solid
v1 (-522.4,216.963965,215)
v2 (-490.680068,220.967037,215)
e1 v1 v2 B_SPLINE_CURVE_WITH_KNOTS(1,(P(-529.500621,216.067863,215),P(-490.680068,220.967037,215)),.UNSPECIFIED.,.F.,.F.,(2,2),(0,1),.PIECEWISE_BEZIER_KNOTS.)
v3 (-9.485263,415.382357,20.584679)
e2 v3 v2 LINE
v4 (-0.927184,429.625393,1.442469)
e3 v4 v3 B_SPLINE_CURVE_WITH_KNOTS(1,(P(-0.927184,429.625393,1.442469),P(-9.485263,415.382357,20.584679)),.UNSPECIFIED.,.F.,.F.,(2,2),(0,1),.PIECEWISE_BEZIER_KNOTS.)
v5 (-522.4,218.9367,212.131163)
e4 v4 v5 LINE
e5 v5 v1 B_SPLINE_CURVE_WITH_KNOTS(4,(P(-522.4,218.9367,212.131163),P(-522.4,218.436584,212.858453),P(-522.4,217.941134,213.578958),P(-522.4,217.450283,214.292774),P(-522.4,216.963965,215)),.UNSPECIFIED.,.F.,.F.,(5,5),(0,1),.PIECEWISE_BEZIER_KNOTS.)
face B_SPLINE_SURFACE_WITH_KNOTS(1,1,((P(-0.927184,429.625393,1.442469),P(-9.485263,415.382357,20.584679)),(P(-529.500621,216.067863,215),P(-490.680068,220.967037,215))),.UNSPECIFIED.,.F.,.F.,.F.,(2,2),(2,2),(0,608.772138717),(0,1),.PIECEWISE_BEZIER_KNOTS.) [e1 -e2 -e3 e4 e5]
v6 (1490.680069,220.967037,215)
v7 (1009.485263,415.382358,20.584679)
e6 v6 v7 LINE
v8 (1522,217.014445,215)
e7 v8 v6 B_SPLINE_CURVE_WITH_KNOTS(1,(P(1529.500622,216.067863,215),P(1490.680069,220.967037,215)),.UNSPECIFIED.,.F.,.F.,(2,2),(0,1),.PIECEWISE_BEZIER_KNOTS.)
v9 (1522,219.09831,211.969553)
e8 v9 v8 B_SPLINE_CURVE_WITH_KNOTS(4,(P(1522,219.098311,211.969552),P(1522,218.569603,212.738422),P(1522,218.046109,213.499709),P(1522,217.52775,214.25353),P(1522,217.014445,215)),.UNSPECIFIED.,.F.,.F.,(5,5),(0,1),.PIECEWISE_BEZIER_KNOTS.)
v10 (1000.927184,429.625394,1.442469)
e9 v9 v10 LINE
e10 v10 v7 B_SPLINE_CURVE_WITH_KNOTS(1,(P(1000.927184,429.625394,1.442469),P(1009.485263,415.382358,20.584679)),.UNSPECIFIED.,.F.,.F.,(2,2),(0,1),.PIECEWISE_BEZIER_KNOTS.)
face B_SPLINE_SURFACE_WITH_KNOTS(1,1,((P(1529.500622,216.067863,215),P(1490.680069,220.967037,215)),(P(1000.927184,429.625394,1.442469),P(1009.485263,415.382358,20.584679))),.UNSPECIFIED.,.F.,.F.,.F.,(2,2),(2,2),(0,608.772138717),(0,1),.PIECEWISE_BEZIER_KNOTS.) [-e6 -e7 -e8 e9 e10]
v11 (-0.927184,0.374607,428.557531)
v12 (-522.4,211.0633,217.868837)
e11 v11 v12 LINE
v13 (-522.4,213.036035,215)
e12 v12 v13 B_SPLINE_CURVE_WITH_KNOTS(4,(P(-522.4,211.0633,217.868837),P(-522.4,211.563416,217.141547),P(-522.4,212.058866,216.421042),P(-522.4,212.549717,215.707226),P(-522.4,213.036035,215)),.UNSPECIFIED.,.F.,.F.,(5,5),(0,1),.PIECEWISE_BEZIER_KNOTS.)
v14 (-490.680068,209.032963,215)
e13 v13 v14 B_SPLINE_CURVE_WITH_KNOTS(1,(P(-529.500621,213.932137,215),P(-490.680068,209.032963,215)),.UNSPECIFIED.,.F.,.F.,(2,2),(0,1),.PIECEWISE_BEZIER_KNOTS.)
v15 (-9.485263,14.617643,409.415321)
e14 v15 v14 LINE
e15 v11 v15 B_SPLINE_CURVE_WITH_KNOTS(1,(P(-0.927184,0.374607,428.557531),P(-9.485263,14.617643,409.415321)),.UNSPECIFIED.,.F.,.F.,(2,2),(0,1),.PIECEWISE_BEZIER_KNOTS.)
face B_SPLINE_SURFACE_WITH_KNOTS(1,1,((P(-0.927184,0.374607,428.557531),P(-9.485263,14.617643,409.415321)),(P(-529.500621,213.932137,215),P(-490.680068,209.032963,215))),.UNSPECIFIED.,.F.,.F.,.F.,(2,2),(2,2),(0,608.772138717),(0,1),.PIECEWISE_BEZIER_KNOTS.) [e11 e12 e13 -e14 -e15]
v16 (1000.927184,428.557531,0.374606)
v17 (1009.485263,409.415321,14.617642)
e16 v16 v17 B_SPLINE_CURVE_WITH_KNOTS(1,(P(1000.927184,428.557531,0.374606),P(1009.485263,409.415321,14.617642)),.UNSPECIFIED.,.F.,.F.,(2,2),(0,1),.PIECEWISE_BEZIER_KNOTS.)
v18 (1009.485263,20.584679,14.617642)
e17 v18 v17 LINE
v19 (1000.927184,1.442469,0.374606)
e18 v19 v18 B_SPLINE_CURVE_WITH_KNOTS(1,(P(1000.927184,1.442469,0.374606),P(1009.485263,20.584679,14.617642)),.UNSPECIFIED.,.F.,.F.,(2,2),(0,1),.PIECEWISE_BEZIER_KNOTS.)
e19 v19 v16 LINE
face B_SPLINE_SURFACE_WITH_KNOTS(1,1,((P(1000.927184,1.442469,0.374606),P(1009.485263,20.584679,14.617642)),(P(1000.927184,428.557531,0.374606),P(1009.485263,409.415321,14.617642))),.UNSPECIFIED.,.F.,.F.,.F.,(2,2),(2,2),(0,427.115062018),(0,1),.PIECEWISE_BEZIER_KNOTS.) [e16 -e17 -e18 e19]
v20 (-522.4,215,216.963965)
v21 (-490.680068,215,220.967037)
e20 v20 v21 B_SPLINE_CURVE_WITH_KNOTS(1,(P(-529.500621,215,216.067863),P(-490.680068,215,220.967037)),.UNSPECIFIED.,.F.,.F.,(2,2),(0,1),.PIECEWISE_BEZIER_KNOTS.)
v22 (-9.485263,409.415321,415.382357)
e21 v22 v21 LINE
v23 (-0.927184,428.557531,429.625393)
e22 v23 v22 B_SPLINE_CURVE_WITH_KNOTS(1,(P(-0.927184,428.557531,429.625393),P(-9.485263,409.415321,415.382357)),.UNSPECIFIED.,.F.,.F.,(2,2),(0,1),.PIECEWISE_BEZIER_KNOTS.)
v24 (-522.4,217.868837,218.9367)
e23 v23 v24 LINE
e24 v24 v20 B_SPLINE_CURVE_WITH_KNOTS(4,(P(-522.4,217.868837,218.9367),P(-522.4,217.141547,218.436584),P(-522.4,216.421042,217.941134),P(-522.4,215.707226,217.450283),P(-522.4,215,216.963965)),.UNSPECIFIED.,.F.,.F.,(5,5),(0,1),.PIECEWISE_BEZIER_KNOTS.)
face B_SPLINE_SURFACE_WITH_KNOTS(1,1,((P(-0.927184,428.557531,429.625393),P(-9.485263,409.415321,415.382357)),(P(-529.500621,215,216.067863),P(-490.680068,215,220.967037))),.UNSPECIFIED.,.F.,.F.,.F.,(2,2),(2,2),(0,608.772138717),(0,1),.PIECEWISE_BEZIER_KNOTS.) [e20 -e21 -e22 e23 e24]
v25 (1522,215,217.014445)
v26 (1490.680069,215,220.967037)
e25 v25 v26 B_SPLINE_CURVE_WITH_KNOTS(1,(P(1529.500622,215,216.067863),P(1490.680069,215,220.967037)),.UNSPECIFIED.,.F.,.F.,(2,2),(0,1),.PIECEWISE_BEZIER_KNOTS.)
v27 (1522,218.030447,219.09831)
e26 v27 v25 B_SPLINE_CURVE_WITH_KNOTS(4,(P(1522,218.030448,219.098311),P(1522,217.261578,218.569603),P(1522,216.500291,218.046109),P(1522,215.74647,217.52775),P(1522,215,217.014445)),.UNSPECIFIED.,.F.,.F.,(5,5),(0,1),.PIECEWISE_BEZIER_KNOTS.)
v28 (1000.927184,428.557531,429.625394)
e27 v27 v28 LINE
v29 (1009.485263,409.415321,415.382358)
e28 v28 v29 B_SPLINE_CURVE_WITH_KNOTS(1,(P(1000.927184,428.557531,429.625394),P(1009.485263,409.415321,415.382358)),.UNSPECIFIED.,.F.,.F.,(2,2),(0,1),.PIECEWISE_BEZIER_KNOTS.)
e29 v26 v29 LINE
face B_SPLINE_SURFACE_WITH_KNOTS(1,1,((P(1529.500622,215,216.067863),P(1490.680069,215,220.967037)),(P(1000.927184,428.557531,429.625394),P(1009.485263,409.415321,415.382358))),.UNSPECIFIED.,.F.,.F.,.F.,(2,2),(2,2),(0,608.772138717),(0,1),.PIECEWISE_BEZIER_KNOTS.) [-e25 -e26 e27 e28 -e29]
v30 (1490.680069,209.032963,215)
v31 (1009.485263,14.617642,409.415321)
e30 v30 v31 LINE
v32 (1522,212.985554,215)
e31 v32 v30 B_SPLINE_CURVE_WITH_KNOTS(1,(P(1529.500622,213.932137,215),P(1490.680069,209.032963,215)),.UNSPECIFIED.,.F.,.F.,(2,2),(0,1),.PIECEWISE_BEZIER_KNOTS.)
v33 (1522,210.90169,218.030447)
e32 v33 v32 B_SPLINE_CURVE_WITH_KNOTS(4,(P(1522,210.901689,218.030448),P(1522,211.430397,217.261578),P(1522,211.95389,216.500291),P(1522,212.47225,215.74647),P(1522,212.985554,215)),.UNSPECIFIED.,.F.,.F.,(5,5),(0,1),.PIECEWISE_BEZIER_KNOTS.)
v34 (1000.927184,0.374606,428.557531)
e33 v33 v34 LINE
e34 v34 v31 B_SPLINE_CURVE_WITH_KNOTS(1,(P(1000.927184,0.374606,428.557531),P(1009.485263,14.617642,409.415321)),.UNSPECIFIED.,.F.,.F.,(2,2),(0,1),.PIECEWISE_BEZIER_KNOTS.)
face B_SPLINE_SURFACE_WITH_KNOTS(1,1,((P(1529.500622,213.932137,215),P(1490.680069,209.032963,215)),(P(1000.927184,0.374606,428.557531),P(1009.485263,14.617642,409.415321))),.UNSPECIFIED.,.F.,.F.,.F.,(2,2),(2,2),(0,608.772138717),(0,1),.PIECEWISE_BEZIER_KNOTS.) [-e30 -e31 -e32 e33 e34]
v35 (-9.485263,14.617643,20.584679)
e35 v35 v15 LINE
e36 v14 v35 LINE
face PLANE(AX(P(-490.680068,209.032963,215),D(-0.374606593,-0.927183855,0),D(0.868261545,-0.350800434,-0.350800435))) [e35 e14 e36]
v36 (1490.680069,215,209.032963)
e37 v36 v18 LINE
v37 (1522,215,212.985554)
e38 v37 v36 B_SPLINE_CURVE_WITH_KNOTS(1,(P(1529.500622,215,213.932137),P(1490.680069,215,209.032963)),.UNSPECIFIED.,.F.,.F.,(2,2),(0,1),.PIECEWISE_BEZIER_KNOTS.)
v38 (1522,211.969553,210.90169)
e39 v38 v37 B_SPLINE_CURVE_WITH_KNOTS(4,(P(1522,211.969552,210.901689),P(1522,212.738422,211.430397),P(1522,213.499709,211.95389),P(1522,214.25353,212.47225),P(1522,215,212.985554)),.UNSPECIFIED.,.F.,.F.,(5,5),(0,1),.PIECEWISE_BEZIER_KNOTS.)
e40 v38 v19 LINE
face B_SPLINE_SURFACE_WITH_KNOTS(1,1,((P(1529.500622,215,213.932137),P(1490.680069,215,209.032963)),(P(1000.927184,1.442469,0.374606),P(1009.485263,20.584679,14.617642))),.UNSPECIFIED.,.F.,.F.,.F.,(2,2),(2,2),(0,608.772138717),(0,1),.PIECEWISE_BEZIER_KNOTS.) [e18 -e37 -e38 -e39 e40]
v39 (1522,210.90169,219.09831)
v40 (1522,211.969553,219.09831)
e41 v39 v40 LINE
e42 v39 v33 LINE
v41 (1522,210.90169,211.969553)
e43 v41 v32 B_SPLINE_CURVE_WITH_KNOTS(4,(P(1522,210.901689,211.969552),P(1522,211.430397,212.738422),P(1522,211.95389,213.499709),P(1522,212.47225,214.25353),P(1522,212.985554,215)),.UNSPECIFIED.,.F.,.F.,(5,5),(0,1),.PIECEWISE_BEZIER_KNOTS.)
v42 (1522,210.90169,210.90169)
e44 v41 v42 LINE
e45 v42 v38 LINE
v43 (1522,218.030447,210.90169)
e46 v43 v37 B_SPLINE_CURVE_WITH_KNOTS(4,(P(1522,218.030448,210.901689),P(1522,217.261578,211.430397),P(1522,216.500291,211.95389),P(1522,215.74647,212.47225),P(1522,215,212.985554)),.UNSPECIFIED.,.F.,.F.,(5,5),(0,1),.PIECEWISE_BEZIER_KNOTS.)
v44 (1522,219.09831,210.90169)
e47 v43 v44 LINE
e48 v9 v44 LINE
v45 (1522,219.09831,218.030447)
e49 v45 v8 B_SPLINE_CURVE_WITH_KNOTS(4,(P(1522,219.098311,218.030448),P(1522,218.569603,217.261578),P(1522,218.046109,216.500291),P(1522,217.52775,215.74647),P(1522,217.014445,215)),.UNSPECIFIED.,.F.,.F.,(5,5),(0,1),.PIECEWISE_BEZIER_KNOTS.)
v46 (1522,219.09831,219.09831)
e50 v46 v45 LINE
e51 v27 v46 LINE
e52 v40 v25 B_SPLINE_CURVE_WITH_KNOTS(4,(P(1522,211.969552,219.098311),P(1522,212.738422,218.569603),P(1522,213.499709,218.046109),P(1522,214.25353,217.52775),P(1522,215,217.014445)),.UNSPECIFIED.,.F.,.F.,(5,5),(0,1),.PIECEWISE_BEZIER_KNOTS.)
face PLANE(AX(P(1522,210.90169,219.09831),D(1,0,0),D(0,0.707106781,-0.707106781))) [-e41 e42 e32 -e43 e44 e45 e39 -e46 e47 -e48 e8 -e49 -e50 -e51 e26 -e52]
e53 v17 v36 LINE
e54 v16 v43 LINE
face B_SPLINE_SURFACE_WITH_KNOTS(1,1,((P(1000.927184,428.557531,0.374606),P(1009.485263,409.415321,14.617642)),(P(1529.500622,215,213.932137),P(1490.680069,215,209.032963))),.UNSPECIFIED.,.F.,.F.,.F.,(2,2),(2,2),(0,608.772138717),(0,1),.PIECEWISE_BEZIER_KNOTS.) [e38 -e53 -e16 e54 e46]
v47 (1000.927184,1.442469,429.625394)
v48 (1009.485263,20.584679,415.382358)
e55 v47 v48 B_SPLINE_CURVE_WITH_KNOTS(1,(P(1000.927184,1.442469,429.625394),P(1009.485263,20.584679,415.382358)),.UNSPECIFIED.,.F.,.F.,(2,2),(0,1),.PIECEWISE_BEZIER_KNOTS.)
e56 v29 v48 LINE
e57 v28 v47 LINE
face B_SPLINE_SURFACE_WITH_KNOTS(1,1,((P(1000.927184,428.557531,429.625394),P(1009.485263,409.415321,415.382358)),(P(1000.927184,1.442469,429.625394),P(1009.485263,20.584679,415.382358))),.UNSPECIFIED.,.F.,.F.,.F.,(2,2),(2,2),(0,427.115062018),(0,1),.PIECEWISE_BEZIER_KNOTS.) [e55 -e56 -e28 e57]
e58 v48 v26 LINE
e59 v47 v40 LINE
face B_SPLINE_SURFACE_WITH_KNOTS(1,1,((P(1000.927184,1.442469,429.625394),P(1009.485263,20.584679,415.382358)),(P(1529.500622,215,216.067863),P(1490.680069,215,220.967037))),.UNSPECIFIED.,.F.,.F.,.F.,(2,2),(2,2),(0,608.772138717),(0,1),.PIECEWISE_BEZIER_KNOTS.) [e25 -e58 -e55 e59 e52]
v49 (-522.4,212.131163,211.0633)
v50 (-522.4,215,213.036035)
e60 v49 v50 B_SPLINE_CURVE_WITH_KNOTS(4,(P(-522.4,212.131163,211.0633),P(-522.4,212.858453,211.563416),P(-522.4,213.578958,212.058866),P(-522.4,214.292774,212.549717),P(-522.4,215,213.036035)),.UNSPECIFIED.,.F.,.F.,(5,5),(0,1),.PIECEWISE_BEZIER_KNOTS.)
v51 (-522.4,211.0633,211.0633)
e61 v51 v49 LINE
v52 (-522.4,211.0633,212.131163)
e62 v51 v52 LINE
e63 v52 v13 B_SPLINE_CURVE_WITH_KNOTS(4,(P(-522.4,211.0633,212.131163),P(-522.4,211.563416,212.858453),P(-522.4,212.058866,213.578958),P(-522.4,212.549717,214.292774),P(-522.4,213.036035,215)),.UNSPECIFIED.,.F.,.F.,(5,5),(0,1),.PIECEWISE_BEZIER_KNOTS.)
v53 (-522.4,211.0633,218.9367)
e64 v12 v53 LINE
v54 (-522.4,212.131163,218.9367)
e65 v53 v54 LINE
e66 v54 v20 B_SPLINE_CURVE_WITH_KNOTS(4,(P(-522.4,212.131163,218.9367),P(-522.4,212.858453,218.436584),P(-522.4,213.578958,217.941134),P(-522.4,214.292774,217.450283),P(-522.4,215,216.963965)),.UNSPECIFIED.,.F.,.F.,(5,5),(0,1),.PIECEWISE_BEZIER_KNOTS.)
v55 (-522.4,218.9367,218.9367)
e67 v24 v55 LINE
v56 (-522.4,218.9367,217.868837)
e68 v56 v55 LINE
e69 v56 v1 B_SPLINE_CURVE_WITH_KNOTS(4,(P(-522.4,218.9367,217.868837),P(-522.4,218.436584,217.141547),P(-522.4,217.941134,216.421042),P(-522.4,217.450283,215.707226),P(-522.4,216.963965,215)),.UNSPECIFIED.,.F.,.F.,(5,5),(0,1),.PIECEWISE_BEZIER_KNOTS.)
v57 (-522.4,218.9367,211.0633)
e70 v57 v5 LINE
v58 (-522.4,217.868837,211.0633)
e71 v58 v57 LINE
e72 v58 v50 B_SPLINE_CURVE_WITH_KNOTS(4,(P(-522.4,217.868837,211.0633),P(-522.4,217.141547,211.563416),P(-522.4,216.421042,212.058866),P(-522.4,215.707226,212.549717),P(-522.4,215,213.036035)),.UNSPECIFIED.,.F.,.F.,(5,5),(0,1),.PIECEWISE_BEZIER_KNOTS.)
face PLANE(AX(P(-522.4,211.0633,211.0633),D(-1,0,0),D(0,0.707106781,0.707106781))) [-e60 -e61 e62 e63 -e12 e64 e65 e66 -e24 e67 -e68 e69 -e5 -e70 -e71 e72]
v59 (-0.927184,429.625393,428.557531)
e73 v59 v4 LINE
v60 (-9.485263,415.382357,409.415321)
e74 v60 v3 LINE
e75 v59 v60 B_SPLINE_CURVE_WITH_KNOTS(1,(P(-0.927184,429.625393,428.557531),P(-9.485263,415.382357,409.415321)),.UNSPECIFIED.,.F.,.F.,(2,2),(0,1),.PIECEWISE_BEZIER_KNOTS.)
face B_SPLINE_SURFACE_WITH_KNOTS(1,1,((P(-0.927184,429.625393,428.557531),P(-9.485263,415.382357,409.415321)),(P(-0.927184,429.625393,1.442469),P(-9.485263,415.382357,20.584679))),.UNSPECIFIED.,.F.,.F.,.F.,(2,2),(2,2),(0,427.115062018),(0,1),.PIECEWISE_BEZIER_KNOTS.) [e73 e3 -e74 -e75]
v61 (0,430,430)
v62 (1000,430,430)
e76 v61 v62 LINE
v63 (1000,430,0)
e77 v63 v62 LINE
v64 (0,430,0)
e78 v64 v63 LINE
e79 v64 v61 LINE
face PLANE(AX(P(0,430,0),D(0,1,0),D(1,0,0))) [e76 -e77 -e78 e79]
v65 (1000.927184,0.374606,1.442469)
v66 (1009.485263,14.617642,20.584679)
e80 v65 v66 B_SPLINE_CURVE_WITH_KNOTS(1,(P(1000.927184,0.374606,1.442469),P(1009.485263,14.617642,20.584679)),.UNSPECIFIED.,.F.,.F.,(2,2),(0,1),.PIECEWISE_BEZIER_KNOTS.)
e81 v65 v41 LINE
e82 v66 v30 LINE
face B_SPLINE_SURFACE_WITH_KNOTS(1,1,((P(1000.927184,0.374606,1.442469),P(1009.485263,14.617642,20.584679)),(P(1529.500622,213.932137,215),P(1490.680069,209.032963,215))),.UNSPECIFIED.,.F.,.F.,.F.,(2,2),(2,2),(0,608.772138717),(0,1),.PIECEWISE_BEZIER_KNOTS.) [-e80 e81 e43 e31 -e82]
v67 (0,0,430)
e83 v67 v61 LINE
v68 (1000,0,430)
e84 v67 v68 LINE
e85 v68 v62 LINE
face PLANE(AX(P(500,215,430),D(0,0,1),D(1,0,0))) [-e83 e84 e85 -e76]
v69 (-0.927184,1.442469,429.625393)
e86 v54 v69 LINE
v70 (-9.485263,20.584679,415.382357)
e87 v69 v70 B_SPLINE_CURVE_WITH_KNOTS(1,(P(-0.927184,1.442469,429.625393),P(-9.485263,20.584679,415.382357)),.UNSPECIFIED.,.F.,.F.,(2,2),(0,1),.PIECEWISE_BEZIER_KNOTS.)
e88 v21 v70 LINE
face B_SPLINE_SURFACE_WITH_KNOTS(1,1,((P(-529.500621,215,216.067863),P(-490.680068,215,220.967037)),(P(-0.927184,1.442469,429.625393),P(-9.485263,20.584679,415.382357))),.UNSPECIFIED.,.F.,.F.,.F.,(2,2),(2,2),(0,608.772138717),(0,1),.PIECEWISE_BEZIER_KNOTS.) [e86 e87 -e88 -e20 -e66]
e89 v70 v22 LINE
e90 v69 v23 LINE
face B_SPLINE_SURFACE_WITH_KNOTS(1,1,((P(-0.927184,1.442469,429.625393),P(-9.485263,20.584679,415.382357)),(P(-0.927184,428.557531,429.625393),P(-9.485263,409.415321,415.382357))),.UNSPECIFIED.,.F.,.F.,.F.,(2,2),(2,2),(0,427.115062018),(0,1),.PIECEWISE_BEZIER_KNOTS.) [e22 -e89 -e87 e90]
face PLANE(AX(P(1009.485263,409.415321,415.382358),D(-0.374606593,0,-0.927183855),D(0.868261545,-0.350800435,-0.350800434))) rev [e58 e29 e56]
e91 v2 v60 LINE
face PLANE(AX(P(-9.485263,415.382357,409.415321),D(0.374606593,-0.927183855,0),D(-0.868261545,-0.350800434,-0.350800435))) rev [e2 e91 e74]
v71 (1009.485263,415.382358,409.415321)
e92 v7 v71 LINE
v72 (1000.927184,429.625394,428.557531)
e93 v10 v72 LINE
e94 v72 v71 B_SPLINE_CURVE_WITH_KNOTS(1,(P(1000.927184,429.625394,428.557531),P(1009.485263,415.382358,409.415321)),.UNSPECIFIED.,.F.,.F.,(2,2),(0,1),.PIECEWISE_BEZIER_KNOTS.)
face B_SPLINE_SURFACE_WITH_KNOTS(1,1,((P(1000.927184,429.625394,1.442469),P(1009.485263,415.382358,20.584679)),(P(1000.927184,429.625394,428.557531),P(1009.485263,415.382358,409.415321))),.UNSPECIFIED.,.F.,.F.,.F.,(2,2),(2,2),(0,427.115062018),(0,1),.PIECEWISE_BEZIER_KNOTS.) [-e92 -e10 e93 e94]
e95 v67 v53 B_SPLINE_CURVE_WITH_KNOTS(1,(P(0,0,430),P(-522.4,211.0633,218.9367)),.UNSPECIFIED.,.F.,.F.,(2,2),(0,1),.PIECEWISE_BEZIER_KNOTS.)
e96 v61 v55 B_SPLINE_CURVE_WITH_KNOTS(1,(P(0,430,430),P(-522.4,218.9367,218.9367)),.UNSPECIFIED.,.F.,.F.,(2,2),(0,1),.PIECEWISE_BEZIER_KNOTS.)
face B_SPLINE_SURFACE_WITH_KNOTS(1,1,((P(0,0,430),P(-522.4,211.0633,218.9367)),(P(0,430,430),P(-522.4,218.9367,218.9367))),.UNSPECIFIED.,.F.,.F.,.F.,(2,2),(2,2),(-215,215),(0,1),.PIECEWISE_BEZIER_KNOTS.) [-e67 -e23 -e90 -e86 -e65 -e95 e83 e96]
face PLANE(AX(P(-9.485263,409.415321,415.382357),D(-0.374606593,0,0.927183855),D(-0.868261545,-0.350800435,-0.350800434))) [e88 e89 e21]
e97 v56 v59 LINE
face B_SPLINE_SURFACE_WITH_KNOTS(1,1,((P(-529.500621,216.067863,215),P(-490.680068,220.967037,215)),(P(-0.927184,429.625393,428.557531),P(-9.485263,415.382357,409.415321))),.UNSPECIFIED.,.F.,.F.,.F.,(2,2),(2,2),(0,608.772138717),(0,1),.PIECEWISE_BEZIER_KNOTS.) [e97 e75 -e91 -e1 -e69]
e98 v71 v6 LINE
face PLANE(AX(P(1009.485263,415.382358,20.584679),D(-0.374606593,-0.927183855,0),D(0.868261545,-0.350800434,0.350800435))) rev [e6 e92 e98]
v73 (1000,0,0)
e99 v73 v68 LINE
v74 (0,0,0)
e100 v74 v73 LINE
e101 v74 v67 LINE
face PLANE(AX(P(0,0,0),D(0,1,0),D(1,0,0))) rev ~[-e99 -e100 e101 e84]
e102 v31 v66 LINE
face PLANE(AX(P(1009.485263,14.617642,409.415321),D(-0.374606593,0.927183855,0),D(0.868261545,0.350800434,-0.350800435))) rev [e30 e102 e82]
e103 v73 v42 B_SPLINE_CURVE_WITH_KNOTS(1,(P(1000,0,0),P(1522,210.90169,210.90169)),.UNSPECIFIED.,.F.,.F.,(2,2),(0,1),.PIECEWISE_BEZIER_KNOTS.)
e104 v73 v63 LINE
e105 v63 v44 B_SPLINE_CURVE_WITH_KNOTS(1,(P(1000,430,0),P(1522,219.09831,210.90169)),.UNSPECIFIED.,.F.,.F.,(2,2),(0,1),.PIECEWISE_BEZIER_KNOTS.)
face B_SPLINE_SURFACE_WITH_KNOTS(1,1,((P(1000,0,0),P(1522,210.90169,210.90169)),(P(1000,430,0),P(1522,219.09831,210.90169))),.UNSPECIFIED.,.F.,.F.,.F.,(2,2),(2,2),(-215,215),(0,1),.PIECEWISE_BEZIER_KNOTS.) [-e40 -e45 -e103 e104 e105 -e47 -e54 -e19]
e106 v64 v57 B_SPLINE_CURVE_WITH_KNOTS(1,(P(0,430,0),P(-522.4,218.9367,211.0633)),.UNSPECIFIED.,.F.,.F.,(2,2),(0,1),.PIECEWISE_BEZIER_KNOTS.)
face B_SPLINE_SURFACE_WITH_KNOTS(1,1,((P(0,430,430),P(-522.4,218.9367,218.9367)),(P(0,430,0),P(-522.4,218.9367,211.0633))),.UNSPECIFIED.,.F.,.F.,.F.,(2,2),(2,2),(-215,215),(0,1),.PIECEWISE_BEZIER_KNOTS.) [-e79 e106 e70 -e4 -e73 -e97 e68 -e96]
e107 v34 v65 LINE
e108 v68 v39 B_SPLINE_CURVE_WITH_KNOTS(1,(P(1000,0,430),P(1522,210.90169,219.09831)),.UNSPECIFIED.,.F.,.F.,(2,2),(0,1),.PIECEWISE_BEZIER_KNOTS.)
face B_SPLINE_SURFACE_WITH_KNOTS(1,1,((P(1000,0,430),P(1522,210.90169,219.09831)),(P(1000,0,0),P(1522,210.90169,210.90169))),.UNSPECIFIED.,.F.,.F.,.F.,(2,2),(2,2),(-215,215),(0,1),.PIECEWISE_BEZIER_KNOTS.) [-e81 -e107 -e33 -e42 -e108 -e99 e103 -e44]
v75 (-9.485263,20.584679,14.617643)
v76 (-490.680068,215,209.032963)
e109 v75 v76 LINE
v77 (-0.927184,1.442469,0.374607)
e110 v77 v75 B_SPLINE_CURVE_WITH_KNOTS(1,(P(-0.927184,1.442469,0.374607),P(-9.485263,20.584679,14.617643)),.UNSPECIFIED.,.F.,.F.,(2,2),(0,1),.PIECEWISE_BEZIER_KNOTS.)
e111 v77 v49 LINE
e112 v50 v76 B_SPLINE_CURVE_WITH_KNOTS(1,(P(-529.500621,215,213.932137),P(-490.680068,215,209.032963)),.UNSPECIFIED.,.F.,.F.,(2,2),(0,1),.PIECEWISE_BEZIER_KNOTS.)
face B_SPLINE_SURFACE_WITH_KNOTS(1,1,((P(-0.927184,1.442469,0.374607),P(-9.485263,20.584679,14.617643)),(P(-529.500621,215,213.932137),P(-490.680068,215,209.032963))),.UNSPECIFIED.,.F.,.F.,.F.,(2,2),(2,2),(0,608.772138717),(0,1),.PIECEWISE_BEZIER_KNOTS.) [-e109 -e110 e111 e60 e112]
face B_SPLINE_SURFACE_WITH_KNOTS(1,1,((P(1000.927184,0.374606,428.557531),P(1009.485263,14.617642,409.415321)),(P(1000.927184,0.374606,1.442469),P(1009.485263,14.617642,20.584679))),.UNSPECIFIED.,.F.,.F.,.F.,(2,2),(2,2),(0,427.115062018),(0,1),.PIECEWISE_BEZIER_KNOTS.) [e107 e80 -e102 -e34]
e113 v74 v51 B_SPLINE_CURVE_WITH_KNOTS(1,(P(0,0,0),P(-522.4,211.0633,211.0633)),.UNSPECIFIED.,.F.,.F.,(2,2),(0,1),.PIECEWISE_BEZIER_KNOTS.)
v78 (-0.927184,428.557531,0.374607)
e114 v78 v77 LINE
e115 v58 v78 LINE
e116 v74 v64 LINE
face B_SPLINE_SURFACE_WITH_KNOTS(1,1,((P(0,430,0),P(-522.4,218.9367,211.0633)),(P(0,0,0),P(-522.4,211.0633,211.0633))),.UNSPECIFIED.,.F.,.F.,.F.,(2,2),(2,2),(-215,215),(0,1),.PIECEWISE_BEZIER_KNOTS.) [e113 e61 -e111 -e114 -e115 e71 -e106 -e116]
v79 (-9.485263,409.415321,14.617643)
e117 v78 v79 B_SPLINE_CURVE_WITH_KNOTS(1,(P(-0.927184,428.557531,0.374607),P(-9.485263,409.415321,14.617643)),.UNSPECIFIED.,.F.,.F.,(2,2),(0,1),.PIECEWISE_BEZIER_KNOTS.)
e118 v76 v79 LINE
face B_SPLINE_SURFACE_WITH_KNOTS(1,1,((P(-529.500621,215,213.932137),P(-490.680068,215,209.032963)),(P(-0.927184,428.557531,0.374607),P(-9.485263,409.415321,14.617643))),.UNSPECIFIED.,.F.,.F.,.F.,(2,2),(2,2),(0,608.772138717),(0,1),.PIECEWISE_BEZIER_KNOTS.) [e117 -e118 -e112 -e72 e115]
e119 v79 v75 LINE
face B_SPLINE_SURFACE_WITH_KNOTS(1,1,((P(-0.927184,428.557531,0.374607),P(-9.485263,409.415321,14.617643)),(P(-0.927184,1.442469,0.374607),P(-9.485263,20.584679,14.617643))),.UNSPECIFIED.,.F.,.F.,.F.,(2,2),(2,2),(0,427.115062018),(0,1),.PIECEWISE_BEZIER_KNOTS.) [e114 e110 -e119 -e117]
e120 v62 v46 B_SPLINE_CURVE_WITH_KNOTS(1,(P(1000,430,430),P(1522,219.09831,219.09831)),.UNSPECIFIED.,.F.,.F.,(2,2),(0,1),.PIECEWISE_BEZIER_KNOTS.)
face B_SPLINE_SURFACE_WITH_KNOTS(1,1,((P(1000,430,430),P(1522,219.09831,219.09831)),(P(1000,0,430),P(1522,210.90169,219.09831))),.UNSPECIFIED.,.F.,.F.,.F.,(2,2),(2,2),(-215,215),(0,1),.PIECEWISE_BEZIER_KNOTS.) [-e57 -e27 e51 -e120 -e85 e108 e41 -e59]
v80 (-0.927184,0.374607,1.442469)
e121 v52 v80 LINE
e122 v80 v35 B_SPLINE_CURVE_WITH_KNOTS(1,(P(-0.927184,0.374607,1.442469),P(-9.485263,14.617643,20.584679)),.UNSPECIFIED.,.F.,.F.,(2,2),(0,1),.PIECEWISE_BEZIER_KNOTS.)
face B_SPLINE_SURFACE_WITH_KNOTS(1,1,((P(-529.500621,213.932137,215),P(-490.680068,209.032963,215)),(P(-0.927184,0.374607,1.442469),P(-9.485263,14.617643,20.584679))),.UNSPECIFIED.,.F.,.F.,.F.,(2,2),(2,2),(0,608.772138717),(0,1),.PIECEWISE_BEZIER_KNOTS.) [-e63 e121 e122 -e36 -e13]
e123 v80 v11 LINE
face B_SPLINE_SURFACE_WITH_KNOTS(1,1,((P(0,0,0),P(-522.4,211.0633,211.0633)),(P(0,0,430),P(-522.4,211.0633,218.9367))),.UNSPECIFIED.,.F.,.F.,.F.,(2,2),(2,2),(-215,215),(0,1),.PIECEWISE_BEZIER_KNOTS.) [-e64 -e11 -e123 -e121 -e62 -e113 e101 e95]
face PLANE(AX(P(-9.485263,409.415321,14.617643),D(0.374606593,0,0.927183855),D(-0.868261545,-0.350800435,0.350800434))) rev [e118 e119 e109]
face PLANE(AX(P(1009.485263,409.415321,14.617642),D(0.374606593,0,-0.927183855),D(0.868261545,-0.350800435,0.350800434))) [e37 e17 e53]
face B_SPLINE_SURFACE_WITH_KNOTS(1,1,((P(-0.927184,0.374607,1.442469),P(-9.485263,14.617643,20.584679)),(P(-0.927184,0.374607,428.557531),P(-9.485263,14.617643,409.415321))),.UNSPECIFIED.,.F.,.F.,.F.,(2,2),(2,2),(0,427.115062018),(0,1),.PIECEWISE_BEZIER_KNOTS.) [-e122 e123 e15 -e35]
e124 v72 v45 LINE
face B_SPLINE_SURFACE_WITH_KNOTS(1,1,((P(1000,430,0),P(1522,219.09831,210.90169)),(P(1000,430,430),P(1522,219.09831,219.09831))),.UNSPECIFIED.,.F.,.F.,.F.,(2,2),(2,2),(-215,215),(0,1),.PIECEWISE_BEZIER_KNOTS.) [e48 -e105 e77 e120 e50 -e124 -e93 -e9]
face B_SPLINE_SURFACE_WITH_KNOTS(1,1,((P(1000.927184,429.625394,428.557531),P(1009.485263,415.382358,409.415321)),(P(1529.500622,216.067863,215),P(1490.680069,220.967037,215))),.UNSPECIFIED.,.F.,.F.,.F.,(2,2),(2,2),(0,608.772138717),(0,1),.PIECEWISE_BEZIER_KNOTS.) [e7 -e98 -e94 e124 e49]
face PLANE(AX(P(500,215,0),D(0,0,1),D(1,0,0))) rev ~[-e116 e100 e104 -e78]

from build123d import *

# Parameters (mm, degrees)
ESQUISSE3_W              = 1000
ESQUISSE3_H              = 430
BOSS_EXTRU_2_DEPTH       = 430
ESQUISSE4_W              = 430
ESQUISSE4_H              = 430
BOSS_EXTRU_3_DEPTH       = 522.4
BOSS_EXTRU_3_TAPER       = 22
ESQUISSE5_W              = 430
ESQUISSE5_H              = 430
BOSS_EXTRU_4_DEPTH       = 522
BOSS_EXTRU_4_TAPER       = 22
ENL_V_MAT_EXTRU_1_DEPTH  = 10
ENL_V_MAT_EXTRU_1_TAPER  = 53
ENL_V_MAT_EXTRU_2_DEPTH  = 10
ENL_V_MAT_EXTRU_2_TAPER  = 53
ENL_V_MAT_EXTRU_3_DEPTH  = 10
ENL_V_MAT_EXTRU_3_TAPER  = 53
ENL_V_MAT_EXTRU_4_DEPTH  = 10
ENL_V_MAT_EXTRU_4_TAPER  = 53
ENL_V_MAT_EXTRU_7_DEPTH  = 10
ENL_V_MAT_EXTRU_7_TAPER  = 53
ENL_V_MAT_EXTRU_8_DEPTH  = 10
ENL_V_MAT_EXTRU_8_TAPER  = 53
ENL_V_MAT_EXTRU_9_DEPTH  = 10
ENL_V_MAT_EXTRU_9_TAPER  = 53
ENL_V_MAT_EXTRU_10_DEPTH = 10
ENL_V_MAT_EXTRU_10_TAPER = 53


with BuildPart() as part:
    # Esquisse3 → Boss.-Extru.2 (new body)
    with BuildSketch(Plane.XY):
        with Locations((500, 215)):
            Rectangle(ESQUISSE3_W, ESQUISSE3_H)
    extrude(amount=BOSS_EXTRU_2_DEPTH)

    # Esquisse4 → Boss.-Extru.3 (add)
    with BuildSketch(Plane.ZY):
        with Locations((215, 215)):
            Rectangle(ESQUISSE4_W, ESQUISSE4_H)
    extrude(amount=BOSS_EXTRU_3_DEPTH, taper=BOSS_EXTRU_3_TAPER)

    # Esquisse5 → Boss.-Extru.4 (add)
    with BuildSketch(Plane(origin=(1000, 0, 0), x_dir=(0, 0, -1), z_dir=(1, 0, 0))):
        with Locations((-215, 215)):
            Rectangle(ESQUISSE5_W, ESQUISSE5_H)
    extrude(amount=BOSS_EXTRU_4_DEPTH, taper=BOSS_EXTRU_4_TAPER)

    # Esquisse6 → Enlèv. mat.-Extru.1 (cut)
    with BuildSketch(Plane(origin=(-149.351549649, 0, 369.658057073), x_dir=(0.927183855, 0, 0.374606593), z_dir=(-0.374606593, 0, 0.927183855))):
        Polygon((160.080835169, 428.557531009), (-410.003981176, 215), (160.080835169, 1.442468991), align=None)
    extrude(amount=-ENL_V_MAT_EXTRU_1_DEPTH, taper=ENL_V_MAT_EXTRU_1_TAPER, mode=Mode.SUBTRACT)

    # Esquisse7 → Enlèv. mat.-Extru.2 (cut)
    with BuildSketch(Plane(origin=(-149.351549649, 369.658057073, 0), x_dir=(0.927183855, 0.374606593, 0), z_dir=(-0.374606593, 0.927183855, 0))):
        Polygon((160.080835169, -428.557531009), (160.080835169, -1.442468991), (-410.003981176, -215), align=None)
    extrude(amount=-ENL_V_MAT_EXTRU_2_DEPTH, taper=ENL_V_MAT_EXTRU_2_TAPER, mode=Mode.SUBTRACT)

    # Esquisse8 → Enlèv. mat.-Extru.3 (cut)
    with BuildSketch(Plane(origin=(0, 0, 0), x_dir=(-0.927183855, 0, 0.374606593), z_dir=(-0.374606593, 0, -0.927183855))):
        Polygon((1, 428.557531009), (1, 1.442468991), (571.084816345, 215), align=None)
    extrude(amount=-ENL_V_MAT_EXTRU_3_DEPTH, taper=ENL_V_MAT_EXTRU_3_TAPER, mode=Mode.SUBTRACT)

    # Esquisse9 → Enlèv. mat.-Extru.4 (cut)
    with BuildSketch(Plane(origin=(0, 0, 0), x_dir=(0.927183855, -0.374606593, 0), z_dir=(-0.374606593, -0.927183855, 0))):
        Polygon((-571.084816345, 215), (-1, 1.442468991), (-1, 428.557531009), align=None)
    extrude(amount=-ENL_V_MAT_EXTRU_4_DEPTH, taper=ENL_V_MAT_EXTRU_4_TAPER, mode=Mode.SUBTRACT)

    # Esquisse12 → Enlèv. mat.-Extru.7 (cut)
    with BuildSketch(Plane(origin=(140.330099831, -347.329185229, 0), x_dir=(-0.927183855, -0.374606593, 0), z_dir=(0.374606593, -0.927183855, 0))):
        Polygon((-928.183854567, -428.557531009), (-928.183854567, -1.442468991), (-1498.268670912, -215), align=None)
    extrude(amount=-ENL_V_MAT_EXTRU_7_DEPTH, taper=ENL_V_MAT_EXTRU_7_TAPER, mode=Mode.SUBTRACT)

    # Esquisse13 → Enlèv. mat.-Extru.8 (cut)
    with BuildSketch(Plane(origin=(289.681649479, 0, 716.987242302), x_dir=(0.927183855, 0, -0.374606593), z_dir=(0.374606593, 0, 0.927183855))):
        Polygon((767.103019398, 428.557531009), (767.103019398, 1.442468991), (1337.187835743, 215), align=None)
    extrude(amount=-ENL_V_MAT_EXTRU_8_DEPTH, taper=ENL_V_MAT_EXTRU_8_TAPER, mode=Mode.SUBTRACT)

    # Esquisse14 → Enlèv. mat.-Extru.9 (cut)
    with BuildSketch(Plane(origin=(289.681649479, 716.987242302, 0), x_dir=(0.927183855, -0.374606593, 0), z_dir=(0.374606593, 0.927183855, 0))):
        Polygon((767.103019398, -1.442468991), (767.103019398, -428.557531009), (1337.187835743, -215), align=None)
    extrude(amount=-ENL_V_MAT_EXTRU_9_DEPTH, taper=ENL_V_MAT_EXTRU_9_TAPER, mode=Mode.SUBTRACT)

    # Esquisse15 → Enlèv. mat.-Extru.10 (cut)
    with BuildSketch(Plane(origin=(140.330099831, 0, -347.329185229), x_dir=(-0.927183855, 0, -0.374606593), z_dir=(0.374606593, 0, -0.927183855))):
        Polygon((-928.183854567, 428.557531009), (-1498.268670912, 215), (-928.183854567, 1.442468991), align=None)
    extrude(amount=-ENL_V_MAT_EXTRU_10_DEPTH, taper=ENL_V_MAT_EXTRU_10_TAPER, mode=Mode.SUBTRACT)


solid = part.part
